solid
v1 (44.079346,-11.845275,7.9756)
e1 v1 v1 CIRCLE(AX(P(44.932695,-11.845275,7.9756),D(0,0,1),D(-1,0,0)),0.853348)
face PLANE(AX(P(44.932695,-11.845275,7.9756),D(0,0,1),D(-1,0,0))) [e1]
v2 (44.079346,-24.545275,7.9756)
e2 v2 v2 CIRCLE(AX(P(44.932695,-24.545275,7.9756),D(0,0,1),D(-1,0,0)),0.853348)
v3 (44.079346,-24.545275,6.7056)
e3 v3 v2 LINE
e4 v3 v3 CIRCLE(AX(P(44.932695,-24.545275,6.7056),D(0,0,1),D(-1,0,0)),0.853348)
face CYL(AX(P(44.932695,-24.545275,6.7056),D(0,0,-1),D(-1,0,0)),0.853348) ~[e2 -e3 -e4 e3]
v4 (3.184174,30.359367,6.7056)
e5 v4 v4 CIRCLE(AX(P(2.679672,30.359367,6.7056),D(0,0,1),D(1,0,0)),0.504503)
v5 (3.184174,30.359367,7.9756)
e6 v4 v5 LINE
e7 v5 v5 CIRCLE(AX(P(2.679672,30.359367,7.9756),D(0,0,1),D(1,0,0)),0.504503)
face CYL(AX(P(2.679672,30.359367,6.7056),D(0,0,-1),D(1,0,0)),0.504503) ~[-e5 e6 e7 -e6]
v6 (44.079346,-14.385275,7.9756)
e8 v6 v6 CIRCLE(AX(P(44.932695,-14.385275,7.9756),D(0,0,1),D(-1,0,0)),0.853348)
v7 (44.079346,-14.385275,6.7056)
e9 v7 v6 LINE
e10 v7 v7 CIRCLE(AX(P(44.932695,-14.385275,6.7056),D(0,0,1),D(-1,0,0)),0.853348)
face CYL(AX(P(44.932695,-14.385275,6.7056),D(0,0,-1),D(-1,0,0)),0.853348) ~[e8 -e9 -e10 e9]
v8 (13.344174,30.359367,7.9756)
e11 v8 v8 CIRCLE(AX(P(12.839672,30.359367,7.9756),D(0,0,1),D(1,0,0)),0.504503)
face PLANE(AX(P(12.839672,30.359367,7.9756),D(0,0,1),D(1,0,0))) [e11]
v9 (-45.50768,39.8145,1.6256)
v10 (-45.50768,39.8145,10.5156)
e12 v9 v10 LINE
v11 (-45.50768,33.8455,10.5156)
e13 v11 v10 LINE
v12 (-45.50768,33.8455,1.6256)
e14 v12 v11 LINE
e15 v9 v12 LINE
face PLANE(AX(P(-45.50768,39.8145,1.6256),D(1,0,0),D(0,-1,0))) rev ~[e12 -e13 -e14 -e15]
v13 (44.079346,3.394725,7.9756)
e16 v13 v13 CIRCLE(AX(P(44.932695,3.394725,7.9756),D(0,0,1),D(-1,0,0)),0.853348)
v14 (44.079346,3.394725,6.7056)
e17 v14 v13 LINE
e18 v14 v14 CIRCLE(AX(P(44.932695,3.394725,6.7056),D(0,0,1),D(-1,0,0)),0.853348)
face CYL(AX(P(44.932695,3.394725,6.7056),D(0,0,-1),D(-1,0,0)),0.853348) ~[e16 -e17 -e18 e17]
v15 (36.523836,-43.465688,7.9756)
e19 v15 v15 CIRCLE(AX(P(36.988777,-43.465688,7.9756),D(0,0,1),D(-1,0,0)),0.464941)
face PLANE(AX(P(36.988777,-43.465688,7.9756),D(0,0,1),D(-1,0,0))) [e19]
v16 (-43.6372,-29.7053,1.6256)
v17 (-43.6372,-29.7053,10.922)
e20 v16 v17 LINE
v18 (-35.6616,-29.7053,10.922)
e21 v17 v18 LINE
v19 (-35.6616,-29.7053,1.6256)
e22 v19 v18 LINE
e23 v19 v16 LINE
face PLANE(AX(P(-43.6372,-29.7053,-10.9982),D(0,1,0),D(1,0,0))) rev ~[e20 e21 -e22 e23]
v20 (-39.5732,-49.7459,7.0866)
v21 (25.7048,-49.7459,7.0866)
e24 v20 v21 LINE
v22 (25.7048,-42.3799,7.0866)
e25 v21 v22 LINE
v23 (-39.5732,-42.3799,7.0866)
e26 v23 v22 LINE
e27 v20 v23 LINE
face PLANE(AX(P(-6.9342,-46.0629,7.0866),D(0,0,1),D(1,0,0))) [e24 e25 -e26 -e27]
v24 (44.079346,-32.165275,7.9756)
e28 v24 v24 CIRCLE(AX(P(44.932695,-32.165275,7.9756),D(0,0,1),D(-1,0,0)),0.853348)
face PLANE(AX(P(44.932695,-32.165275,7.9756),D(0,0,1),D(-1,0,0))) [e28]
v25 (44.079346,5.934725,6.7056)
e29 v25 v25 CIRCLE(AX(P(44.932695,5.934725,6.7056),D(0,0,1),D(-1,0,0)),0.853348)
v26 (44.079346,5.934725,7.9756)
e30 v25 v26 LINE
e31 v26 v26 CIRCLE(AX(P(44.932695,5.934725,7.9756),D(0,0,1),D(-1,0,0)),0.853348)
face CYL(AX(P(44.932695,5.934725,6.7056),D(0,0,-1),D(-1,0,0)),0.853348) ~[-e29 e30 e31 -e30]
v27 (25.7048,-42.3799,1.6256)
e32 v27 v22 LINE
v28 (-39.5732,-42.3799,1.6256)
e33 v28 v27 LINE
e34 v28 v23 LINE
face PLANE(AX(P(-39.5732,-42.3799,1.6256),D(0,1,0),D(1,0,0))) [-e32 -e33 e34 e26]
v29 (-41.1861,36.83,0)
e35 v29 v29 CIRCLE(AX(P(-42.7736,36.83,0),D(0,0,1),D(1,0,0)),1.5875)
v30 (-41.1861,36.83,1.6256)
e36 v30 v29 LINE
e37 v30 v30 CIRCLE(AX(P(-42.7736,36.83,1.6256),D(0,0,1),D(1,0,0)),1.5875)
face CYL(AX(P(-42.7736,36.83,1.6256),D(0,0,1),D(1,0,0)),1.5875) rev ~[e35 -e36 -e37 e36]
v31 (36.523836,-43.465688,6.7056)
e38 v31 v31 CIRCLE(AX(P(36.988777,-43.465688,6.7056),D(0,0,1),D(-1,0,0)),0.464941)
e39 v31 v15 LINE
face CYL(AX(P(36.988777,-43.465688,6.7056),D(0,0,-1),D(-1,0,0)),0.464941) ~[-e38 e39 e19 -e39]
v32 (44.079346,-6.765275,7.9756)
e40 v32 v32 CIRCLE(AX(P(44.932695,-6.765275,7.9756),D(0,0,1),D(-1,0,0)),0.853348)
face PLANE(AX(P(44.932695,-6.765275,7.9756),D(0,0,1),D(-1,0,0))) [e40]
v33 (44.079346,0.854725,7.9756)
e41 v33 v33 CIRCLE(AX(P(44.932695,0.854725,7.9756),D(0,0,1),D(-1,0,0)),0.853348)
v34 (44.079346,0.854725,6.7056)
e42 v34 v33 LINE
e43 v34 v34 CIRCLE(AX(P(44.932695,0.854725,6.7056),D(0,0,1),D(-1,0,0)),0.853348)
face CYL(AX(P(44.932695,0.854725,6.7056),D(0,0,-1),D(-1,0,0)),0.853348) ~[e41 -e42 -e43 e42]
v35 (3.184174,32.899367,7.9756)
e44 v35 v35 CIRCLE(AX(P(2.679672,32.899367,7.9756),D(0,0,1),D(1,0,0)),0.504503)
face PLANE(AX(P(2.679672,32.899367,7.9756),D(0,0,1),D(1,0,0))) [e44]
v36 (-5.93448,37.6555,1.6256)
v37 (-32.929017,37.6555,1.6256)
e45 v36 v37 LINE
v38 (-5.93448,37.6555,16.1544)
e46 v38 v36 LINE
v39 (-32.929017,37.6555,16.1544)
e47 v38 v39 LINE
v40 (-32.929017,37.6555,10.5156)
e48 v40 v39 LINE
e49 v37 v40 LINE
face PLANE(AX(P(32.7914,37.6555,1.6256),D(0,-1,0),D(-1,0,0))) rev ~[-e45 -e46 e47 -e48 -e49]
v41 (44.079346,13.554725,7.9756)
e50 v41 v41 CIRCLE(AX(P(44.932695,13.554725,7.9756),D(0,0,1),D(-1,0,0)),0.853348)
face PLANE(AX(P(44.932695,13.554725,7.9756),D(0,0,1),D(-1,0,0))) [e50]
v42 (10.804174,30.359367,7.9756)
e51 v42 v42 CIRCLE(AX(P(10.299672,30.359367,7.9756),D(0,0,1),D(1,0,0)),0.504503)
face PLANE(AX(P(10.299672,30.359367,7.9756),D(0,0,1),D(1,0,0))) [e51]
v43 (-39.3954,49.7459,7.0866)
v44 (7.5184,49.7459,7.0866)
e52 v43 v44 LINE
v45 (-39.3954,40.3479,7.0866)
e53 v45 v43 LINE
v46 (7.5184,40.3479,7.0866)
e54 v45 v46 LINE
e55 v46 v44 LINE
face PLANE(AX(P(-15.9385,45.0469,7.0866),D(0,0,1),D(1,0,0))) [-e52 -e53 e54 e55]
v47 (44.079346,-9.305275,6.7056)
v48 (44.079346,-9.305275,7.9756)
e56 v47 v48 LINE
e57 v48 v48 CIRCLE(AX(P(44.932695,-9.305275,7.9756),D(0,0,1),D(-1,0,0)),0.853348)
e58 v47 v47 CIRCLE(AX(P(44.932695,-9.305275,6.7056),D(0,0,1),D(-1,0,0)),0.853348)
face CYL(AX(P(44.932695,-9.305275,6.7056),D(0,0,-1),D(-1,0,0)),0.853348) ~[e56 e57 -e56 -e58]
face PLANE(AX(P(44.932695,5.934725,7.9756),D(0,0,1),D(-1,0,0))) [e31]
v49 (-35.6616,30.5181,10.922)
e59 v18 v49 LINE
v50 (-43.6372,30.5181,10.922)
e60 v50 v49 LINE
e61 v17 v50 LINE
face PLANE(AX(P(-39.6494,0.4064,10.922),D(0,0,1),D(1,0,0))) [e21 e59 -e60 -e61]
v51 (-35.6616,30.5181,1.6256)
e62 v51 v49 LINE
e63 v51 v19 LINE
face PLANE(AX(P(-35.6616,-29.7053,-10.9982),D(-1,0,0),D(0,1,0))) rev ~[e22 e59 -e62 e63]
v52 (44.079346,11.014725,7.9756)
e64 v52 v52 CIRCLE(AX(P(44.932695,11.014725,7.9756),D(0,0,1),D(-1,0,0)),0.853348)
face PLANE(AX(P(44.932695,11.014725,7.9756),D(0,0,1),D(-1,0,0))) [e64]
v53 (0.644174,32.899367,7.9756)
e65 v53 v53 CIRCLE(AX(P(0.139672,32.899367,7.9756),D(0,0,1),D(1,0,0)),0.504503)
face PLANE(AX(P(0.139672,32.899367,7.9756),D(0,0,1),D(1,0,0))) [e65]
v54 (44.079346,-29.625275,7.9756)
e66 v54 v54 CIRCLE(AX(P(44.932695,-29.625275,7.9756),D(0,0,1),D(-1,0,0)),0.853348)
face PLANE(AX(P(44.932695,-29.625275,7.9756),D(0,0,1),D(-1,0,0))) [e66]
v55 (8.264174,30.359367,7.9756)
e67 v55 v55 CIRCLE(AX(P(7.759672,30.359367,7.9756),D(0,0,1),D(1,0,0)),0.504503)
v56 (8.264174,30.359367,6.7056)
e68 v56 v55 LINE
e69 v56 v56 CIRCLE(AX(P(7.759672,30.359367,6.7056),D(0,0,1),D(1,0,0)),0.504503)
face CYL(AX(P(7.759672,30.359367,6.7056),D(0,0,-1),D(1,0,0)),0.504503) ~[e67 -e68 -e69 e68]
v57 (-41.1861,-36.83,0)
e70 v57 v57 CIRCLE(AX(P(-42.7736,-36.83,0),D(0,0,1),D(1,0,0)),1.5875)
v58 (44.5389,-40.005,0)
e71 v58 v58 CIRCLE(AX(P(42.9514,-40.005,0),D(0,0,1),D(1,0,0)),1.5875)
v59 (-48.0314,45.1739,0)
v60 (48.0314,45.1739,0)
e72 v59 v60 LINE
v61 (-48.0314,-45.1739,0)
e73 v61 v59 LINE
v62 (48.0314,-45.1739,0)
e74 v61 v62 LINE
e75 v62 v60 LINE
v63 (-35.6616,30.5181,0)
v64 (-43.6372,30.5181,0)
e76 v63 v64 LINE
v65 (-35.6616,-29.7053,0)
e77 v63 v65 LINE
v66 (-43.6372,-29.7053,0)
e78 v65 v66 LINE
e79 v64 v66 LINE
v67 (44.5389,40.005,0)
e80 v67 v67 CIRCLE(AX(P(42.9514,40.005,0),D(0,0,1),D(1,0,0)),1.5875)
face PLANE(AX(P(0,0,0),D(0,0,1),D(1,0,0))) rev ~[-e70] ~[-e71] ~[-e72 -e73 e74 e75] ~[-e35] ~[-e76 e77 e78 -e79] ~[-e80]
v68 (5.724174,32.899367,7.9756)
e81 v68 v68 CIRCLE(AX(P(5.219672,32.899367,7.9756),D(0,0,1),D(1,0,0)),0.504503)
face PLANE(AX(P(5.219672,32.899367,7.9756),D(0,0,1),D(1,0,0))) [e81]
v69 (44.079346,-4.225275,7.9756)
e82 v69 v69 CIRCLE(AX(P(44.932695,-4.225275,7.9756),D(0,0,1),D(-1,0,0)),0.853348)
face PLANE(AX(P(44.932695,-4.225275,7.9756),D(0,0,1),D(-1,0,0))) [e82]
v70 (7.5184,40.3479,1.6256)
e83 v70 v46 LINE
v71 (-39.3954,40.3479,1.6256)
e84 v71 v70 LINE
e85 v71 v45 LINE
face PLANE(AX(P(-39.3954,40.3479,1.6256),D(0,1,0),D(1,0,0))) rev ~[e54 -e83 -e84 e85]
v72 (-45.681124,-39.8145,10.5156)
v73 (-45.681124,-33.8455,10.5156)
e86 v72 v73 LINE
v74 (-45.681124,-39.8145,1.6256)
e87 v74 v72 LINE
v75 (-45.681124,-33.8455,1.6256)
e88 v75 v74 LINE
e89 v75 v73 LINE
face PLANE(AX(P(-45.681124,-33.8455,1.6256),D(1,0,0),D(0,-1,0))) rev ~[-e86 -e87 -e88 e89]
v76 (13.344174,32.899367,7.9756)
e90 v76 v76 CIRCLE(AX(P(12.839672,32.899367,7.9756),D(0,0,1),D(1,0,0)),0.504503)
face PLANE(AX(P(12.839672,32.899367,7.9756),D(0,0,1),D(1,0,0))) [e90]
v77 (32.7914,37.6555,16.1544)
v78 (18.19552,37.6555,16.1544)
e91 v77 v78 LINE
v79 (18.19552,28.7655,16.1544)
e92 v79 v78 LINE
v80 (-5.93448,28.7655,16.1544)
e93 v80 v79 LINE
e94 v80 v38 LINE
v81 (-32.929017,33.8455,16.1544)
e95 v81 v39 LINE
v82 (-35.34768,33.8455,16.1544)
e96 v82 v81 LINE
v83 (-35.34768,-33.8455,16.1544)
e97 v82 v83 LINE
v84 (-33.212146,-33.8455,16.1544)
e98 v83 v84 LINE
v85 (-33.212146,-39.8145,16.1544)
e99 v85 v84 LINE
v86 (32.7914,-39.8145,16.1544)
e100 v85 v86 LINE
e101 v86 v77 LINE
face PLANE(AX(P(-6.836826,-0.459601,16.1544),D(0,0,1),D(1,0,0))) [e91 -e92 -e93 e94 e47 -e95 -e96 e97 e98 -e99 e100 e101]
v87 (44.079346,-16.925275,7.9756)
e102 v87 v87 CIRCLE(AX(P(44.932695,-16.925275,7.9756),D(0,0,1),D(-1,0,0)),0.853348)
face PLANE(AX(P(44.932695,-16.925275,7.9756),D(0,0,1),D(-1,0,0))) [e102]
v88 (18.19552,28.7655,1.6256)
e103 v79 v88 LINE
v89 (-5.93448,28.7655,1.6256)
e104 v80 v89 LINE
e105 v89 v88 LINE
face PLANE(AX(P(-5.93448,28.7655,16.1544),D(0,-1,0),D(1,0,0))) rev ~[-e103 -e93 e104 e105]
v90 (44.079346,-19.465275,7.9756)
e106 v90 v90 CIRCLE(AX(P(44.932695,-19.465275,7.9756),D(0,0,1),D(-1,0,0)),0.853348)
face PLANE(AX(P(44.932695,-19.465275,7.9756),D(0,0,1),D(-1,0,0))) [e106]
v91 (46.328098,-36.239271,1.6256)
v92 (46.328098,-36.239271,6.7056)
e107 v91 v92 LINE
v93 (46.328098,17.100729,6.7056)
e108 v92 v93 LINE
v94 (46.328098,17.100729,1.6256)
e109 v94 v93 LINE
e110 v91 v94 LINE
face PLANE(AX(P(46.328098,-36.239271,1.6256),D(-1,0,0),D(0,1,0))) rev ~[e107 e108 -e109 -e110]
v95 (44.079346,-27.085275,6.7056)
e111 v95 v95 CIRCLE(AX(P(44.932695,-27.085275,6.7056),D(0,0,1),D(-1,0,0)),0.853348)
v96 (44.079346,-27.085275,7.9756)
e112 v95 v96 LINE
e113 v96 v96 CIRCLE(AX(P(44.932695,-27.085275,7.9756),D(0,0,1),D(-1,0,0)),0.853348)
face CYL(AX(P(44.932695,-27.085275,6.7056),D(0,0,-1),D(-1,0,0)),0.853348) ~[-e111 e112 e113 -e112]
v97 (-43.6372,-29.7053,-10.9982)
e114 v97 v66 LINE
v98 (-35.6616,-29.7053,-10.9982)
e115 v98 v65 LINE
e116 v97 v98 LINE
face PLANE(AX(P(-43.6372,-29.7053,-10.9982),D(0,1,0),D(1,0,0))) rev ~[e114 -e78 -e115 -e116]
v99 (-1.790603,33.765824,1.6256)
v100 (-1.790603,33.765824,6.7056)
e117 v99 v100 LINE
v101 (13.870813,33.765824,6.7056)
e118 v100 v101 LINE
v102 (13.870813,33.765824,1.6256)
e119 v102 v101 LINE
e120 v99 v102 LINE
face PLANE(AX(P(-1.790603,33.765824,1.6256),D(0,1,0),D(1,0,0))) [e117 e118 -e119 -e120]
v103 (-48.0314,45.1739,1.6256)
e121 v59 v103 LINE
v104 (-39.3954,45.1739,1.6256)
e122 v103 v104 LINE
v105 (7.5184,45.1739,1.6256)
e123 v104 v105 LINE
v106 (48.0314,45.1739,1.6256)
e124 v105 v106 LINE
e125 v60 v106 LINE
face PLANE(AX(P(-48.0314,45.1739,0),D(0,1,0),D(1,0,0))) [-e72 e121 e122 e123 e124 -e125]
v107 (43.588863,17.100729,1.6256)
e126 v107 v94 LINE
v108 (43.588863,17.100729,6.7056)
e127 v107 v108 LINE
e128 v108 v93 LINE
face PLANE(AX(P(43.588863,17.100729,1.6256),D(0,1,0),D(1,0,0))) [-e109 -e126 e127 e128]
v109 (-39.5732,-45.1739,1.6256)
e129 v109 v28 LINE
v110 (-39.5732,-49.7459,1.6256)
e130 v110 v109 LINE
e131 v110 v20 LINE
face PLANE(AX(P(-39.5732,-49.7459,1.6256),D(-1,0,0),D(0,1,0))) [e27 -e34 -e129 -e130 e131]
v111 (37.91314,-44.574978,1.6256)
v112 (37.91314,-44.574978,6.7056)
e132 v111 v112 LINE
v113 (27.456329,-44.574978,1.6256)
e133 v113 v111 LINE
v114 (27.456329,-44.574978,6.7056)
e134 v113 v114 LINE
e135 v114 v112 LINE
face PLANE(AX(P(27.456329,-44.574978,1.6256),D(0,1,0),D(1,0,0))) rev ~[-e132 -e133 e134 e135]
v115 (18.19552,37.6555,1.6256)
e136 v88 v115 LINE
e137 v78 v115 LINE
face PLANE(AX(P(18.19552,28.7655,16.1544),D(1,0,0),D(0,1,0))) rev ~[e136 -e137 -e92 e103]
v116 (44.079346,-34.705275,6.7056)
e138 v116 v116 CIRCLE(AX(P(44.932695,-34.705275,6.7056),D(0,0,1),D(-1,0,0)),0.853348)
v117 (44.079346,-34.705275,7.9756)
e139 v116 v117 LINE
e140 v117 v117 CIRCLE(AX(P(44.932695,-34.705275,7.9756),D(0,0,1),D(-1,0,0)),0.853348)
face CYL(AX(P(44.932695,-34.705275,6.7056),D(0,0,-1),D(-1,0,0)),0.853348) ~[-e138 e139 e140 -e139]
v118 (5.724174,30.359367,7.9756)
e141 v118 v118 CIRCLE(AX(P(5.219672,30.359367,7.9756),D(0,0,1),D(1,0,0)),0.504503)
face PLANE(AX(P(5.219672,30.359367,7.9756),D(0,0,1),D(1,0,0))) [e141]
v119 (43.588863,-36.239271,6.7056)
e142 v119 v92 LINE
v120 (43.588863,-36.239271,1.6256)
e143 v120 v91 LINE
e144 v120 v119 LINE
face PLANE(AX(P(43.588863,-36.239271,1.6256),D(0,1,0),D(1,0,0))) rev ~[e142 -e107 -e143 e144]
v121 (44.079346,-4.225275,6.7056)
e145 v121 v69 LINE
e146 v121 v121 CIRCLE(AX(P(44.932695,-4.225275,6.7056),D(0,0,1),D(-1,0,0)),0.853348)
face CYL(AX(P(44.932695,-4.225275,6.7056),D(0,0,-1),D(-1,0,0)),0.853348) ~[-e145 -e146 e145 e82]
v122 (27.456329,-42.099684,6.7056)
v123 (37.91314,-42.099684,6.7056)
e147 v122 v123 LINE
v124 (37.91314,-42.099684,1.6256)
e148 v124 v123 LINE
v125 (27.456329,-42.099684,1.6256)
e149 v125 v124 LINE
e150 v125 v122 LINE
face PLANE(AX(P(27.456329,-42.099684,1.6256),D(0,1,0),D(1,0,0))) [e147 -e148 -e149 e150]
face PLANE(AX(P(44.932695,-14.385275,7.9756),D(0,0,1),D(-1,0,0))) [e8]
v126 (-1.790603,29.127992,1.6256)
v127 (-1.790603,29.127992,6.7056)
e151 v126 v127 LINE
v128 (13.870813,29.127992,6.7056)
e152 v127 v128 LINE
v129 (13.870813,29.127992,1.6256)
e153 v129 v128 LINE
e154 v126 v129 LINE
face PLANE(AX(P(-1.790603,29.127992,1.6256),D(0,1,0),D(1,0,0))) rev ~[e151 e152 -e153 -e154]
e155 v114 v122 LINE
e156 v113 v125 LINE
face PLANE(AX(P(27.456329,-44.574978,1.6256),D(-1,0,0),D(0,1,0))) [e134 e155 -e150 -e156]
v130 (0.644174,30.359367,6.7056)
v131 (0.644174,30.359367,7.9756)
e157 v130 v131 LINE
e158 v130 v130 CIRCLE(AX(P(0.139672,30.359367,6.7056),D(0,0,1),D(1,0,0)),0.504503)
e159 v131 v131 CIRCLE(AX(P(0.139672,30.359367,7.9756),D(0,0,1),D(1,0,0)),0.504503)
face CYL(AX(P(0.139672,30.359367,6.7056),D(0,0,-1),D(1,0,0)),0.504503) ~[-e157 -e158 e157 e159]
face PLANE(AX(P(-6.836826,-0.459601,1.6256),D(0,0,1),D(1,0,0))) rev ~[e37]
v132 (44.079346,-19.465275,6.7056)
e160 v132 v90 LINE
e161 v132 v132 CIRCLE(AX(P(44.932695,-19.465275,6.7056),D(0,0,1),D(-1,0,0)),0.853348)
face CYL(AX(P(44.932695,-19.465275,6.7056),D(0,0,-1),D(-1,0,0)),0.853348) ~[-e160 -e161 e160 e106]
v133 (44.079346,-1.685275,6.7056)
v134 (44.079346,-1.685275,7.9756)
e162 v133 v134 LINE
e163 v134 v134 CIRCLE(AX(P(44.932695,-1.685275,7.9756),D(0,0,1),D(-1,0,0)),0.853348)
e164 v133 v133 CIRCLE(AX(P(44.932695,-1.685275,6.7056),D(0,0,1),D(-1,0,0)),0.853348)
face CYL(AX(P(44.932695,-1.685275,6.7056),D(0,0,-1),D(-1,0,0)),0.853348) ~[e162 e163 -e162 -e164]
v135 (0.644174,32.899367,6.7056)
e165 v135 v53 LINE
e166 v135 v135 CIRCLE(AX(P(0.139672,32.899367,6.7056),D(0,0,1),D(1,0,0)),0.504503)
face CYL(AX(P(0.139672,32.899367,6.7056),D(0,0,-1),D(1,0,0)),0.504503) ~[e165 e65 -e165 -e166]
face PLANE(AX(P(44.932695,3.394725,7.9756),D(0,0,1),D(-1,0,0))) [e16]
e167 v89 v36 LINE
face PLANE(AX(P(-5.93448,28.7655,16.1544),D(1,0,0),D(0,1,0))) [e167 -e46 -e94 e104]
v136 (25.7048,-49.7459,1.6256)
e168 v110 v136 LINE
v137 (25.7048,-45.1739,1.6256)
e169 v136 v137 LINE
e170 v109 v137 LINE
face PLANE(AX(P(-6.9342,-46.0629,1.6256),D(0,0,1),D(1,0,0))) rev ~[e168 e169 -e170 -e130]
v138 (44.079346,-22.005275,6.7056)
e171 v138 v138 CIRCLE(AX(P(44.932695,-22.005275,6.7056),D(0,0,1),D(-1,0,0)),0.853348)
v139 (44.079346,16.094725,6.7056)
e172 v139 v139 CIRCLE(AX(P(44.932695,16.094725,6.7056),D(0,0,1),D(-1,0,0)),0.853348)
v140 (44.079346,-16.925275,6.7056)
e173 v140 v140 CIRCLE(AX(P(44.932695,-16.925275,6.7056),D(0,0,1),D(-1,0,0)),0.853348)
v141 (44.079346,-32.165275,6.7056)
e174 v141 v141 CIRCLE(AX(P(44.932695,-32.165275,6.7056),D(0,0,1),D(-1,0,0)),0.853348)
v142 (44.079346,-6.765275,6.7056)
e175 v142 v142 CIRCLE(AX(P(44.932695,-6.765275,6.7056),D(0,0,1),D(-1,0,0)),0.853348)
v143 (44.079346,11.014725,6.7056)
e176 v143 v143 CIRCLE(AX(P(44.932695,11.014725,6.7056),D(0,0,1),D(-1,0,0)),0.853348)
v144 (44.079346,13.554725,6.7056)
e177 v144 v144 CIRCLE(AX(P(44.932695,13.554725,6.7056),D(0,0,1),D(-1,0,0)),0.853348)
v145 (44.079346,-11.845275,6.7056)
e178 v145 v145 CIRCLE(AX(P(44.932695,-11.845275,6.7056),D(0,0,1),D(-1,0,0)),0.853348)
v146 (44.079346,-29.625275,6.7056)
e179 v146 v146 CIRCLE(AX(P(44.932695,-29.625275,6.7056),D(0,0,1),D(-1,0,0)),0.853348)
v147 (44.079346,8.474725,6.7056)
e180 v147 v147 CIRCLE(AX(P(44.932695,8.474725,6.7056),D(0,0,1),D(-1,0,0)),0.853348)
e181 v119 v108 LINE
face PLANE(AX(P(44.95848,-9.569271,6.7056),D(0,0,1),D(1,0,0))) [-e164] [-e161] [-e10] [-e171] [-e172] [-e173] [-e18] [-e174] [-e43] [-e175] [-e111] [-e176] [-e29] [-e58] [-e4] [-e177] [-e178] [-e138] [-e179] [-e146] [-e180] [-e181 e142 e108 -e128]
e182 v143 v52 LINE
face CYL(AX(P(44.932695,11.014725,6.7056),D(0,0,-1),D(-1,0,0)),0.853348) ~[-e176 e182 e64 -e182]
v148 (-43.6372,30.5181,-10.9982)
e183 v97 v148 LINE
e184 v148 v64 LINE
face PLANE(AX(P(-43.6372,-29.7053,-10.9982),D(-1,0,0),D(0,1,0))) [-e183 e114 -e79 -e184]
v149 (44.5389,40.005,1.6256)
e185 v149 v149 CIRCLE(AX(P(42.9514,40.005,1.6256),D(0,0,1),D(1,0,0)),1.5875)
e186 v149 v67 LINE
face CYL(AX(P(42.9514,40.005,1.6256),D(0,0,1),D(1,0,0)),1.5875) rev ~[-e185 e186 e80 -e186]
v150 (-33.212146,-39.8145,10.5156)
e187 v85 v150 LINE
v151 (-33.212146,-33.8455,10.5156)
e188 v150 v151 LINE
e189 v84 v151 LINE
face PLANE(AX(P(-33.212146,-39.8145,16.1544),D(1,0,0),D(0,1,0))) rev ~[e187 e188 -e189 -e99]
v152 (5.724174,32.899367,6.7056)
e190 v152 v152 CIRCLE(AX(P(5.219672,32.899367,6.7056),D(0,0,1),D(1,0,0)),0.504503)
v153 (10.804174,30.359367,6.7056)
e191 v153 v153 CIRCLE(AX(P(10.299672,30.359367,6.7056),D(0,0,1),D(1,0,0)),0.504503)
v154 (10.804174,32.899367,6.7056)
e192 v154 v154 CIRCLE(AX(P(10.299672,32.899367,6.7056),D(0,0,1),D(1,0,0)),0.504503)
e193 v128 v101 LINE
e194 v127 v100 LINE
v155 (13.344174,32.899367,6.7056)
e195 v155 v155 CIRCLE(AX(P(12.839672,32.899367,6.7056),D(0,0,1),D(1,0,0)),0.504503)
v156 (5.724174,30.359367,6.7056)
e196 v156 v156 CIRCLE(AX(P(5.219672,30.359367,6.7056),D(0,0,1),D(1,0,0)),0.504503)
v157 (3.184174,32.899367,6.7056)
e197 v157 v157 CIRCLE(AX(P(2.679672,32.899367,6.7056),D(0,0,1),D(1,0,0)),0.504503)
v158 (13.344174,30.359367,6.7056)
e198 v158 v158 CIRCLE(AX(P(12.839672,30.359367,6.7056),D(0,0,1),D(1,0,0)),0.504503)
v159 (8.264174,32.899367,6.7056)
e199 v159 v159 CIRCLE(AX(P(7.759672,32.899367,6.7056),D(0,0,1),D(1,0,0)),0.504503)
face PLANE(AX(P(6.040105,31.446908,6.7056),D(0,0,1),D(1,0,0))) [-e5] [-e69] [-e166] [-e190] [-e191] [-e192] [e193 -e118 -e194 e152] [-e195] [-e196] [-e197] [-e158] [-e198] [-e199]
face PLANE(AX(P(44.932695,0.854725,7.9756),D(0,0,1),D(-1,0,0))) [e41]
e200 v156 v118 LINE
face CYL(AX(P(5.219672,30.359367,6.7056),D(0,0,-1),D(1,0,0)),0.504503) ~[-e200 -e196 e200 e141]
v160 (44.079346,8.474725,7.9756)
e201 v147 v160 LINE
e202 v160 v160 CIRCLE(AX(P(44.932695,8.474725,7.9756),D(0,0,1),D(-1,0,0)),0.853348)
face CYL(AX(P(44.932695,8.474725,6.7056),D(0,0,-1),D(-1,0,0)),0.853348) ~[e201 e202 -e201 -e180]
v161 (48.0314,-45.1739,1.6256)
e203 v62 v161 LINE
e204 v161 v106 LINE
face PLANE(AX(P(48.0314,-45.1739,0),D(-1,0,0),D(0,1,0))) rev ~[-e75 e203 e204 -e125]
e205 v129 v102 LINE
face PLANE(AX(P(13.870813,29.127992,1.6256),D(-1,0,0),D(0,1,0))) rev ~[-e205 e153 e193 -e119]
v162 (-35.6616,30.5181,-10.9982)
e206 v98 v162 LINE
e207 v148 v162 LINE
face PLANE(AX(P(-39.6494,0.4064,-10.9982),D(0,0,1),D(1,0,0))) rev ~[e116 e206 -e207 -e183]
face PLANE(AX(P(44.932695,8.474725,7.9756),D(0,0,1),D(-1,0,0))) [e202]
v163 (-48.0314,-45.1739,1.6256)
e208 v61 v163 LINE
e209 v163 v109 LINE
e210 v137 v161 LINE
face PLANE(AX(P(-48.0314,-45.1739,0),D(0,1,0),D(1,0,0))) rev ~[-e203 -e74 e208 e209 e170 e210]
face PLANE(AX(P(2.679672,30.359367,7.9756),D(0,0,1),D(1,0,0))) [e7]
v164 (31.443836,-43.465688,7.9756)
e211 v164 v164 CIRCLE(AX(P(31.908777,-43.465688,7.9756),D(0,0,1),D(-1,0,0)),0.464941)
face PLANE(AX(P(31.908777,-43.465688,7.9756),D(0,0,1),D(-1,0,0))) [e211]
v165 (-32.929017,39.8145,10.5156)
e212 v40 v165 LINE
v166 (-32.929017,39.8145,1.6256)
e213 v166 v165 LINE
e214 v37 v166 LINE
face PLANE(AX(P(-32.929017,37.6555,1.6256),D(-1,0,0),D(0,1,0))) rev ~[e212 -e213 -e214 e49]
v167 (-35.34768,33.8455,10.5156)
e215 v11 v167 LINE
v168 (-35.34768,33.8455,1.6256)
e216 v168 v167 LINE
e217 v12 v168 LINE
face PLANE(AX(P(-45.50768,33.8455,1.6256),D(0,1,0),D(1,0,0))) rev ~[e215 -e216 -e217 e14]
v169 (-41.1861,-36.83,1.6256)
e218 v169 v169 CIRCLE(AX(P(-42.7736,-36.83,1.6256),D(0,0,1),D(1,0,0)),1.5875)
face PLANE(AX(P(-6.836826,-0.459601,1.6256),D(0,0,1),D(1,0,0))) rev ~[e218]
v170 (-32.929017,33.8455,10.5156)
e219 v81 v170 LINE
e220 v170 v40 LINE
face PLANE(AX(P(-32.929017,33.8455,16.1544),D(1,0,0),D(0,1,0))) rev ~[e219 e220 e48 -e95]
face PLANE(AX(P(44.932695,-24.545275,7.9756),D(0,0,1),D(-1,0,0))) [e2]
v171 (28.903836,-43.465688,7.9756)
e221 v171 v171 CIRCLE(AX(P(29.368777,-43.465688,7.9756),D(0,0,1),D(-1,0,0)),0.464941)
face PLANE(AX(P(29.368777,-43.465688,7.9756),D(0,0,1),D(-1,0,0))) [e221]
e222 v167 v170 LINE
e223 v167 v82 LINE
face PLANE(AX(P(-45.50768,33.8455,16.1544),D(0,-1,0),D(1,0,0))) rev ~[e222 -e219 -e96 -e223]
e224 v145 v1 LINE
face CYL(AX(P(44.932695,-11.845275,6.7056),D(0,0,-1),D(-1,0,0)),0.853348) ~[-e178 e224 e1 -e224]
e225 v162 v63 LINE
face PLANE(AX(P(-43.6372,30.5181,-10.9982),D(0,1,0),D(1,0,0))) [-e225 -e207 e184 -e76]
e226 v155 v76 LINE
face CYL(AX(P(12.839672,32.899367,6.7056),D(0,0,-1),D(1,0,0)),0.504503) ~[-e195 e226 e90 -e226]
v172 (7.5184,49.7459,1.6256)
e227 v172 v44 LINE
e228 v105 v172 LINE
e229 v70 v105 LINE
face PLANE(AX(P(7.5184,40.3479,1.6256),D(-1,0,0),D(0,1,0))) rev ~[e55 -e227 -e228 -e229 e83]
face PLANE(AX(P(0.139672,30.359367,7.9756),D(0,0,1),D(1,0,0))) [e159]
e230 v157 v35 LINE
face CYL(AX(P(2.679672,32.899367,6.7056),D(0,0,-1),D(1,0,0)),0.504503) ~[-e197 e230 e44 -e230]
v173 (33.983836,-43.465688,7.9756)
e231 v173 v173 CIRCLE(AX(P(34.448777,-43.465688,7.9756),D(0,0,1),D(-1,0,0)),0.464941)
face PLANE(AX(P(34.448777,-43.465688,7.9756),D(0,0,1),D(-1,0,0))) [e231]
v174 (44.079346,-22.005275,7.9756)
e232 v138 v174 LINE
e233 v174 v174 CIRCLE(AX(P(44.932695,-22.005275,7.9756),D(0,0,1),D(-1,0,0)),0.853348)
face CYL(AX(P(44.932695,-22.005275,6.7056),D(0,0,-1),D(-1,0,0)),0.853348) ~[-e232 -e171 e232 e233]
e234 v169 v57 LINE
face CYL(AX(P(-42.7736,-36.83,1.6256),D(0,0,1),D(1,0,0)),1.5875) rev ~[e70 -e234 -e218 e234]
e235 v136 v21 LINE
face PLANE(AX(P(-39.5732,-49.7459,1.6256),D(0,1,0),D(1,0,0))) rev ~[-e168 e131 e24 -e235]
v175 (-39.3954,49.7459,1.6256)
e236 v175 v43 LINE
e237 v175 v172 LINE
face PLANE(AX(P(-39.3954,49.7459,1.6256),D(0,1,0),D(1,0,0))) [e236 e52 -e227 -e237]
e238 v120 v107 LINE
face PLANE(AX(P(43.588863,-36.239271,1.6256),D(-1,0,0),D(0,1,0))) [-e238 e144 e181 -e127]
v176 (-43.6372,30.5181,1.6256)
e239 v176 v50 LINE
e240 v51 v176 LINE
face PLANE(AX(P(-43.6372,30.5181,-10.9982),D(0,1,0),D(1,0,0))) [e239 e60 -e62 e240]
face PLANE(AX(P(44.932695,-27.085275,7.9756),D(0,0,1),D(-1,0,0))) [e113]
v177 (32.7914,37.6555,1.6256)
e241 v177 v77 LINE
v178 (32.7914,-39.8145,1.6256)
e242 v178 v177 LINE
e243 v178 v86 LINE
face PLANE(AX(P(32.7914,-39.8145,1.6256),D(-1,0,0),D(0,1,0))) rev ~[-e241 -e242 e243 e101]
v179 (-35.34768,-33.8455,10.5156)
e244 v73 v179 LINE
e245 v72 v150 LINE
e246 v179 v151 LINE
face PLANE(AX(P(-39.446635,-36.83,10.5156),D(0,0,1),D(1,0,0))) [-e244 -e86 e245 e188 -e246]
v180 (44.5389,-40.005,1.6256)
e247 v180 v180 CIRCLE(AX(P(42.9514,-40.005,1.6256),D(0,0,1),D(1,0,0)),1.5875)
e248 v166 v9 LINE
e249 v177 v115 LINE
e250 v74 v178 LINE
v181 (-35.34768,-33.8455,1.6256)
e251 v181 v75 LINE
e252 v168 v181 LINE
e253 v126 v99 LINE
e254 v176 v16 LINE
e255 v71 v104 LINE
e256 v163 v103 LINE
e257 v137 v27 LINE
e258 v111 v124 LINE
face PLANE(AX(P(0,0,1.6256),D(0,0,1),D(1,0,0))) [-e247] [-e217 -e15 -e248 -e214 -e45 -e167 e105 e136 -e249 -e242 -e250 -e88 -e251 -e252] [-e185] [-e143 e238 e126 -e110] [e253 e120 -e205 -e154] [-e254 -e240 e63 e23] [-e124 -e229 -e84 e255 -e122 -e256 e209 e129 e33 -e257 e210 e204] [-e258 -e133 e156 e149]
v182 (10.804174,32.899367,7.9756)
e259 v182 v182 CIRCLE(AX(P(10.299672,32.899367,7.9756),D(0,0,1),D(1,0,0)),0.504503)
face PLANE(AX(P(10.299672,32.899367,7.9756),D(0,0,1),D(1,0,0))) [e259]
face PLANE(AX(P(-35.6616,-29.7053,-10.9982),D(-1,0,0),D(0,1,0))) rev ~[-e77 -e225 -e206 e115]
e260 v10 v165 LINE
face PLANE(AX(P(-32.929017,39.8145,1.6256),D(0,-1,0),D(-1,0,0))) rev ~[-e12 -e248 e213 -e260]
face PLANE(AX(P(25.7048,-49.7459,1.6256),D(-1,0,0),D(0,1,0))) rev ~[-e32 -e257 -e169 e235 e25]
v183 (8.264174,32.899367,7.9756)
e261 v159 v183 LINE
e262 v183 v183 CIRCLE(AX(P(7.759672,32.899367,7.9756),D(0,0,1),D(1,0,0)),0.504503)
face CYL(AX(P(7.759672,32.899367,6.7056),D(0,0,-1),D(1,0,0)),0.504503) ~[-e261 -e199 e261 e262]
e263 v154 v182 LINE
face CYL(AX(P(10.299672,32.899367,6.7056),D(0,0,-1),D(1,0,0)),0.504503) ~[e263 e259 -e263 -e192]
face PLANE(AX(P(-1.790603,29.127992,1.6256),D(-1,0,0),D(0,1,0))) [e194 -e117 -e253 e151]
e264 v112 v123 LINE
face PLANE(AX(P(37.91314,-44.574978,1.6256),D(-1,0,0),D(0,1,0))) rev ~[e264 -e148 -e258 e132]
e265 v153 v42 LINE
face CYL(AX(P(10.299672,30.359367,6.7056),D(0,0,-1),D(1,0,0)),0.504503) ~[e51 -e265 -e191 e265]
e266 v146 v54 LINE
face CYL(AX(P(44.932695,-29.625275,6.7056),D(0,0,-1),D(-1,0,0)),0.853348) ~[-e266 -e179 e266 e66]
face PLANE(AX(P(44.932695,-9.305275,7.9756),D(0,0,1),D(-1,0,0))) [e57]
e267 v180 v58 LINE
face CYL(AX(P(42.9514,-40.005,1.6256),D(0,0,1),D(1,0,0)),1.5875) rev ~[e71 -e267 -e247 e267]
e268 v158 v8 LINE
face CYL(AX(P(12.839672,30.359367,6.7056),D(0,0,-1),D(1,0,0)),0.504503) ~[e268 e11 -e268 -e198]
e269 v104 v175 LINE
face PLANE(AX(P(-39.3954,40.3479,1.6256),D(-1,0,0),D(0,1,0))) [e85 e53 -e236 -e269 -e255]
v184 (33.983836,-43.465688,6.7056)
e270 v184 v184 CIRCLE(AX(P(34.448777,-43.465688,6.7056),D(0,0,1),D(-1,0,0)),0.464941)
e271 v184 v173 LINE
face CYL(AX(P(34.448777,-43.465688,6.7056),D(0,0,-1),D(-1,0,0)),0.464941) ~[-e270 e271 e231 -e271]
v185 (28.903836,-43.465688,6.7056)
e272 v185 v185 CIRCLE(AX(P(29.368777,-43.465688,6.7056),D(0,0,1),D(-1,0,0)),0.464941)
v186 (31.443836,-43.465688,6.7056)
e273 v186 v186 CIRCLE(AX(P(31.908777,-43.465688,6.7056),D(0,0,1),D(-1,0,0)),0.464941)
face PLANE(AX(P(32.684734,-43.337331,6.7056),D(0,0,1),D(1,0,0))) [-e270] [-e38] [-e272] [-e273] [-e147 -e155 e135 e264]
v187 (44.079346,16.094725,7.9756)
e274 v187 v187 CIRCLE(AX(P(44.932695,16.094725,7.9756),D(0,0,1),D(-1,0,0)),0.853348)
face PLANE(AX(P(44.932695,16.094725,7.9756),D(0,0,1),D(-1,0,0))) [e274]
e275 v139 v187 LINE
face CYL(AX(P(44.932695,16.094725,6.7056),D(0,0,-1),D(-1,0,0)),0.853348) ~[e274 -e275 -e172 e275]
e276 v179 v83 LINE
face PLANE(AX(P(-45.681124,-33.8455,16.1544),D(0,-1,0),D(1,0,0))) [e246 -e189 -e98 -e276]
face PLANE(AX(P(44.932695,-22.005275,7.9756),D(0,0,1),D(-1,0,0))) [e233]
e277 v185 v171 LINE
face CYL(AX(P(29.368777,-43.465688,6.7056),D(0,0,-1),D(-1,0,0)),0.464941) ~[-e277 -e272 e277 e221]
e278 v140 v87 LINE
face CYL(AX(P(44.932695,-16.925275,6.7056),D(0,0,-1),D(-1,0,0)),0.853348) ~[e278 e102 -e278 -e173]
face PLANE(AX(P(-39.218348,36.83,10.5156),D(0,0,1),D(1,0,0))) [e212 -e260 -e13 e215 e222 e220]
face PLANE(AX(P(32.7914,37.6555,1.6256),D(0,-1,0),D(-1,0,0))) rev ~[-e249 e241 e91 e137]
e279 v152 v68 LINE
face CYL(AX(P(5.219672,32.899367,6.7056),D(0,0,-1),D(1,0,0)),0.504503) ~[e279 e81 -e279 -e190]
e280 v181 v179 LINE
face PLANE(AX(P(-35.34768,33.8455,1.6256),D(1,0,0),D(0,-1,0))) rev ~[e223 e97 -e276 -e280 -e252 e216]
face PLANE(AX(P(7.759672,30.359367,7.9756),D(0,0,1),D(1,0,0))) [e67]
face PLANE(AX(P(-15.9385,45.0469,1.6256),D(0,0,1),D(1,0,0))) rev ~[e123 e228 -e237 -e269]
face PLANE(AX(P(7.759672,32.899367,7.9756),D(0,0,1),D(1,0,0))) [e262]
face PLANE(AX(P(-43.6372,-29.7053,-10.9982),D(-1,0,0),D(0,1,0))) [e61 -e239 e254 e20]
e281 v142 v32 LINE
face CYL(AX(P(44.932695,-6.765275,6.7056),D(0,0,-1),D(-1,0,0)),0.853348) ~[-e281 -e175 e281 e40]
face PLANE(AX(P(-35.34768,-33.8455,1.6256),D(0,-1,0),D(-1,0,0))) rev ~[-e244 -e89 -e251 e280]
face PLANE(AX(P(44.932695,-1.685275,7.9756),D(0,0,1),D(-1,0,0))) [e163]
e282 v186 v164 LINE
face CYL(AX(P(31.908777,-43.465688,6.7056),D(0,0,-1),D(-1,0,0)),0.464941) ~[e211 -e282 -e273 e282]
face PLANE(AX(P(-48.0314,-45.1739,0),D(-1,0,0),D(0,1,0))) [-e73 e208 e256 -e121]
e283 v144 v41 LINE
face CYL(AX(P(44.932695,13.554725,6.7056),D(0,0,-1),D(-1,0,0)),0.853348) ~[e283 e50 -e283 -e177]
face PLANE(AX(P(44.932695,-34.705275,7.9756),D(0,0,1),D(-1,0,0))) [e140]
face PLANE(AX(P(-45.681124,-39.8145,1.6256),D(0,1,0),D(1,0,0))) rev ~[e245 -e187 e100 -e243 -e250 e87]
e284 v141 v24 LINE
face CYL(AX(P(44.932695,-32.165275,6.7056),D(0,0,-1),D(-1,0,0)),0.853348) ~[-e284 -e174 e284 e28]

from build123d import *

# Parameters (mm, degrees)
SKETCH1_W                    = 96.0628
SKETCH1_H                    = 90.3478
PCB_DEPTH                    = 1.6256
SKETCH5_R                    = 1.5875
PCB_HOLES_DEPTH              = 66.957101229
PCI_104_CONNECTOR_DEPTH      = 9.2964
PCI_104_CONNECTOR_DEPTH_BACK = 12.6238
SKETCH2_W                    = 7.9756
SKETCH2_H                    = 60.2234
SKETCH6_W                    = 65.278
SKETCH6_H                    = 7.366
SKETCH6_W_2                  = 46.9138
SKETCH6_H_2                  = 9.398
PCB_EDGE_CONNS_DEPTH         = 5.461
HEAT_SINK_DEPTH              = 14.5288
SKETCH8_W                    = 12.578663299
SKETCH8_H                    = 5.969
SKETCH8_W_2                  = 12.468978526
CUT_EXTRUDE1_DEPTH           = 5.6388
SKETCH9_W                    = 24.13
SKETCH9_H                    = 8.89
CUT_EXTRUDE2_DEPTH           = 14.5288
SKETCH10_W                   = 15.661416919
SKETCH10_H                   = 4.637831463
SKETCH10_W_2                 = 10.456810418
SKETCH10_H_2                 = 2.475294653
SKETCH10_W_3                 = 2.739234778
SKETCH10_H_3                 = 53.34
BOSS_EXTRUDE1_DEPTH          = 5.08
SKETCH11_R                   = 0.504502566
BOSS_EXTRUDE2_DEPTH          = 1.27
LPATTERN1_COUNT              = 6
LPATTERN1_PITCH              = 2.54
LPATTERN1_COUNT_DIR2         = 2
LPATTERN1_PITCH_DIR2         = 2.54
SKETCH12_R                   = 0.464941127
BOSS_EXTRUDE3_DEPTH          = 1.27
LPATTERN2_COUNT              = 4
LPATTERN2_PITCH              = 2.54
SKETCH13_R                   = 0.853348332
BOSS_EXTRUDE4_DEPTH          = 1.27
LPATTERN3_COUNT              = 21
LPATTERN3_PITCH              = 2.54


with BuildPart() as part:
    # Sketch1 → PCB (new body)
    with BuildSketch(Plane.XY):
        Rectangle(SKETCH1_W, SKETCH1_H)
    extrude(amount=PCB_DEPTH)

    # Sketch5 → PCB_Holes (cut, through all)
    with BuildSketch(Plane.XY.offset(1.6256)):
        with Locations((-42.7736, 36.83)):
            Circle(SKETCH5_R)
        with Locations((42.9514, 40.005)):
            Circle(SKETCH5_R)
        with Locations((42.9514, -40.005)):
            Circle(SKETCH5_R)
        with Locations((-42.7736, -36.83)):
            Circle(SKETCH5_R)
    extrude(amount=-PCB_HOLES_DEPTH, mode=Mode.SUBTRACT)

    # Sketch2 → PCI-104_Connector (add, two sides: drawn at the far end of the back side and taken through both)
    with BuildSketch(Plane.XY.offset(1.6256).offset(-PCI_104_CONNECTOR_DEPTH_BACK)):
        with Locations((-39.6494, 0.4064)):
            Rectangle(SKETCH2_W, SKETCH2_H)
    extrude(amount=PCI_104_CONNECTOR_DEPTH + PCI_104_CONNECTOR_DEPTH_BACK)

    # Sketch6 → PCB_Edge_Conns (add)
    with BuildSketch(Plane.XY.offset(1.6256)):
        with Locations((-6.9342, -46.0629)):
            Rectangle(SKETCH6_W, SKETCH6_H)
        with Locations((-15.9385, 45.0469)):
            Rectangle(SKETCH6_W_2, SKETCH6_H_2)
    extrude(amount=PCB_EDGE_CONNS_DEPTH)

    # Sketch7 → Heat Sink (add)
    with BuildSketch(Plane.XY.offset(1.6256)):
        Polygon((32.7914, 37.6555), (-32.929016802, 37.6555), (-32.929016802, 39.8145), (-45.507680101, 39.8145), (-45.507680101, 33.8455), (-35.347680101, 33.8455), (-35.347680101, -33.8455), (-45.681124108, -33.8455), (-45.681124108, -39.8145), (32.7914, -39.8145), align=None)
    extrude(amount=HEAT_SINK_DEPTH)

    # Sketch8 → Cut-Extrude1 (cut)
    with BuildSketch(Plane.XY.offset(16.1544)):
        with Locations((-39.218348452, 36.83)):
            Rectangle(SKETCH8_W, SKETCH8_H)
        with Locations((-39.446634845, -36.83)):
            Rectangle(SKETCH8_W_2, SKETCH8_H)
    extrude(amount=-CUT_EXTRUDE1_DEPTH, mode=Mode.SUBTRACT)

    # Sketch9 → Cut-Extrude2 (cut)
    with BuildSketch(Plane.XY.offset(16.1544)):
        with Locations((6.130519899, 33.2105)):
            Rectangle(SKETCH9_W, SKETCH9_H)
    extrude(amount=-CUT_EXTRUDE2_DEPTH, mode=Mode.SUBTRACT)

    # Sketch10 → Boss-Extrude1 (add)
    with BuildSketch(Plane.XY.offset(1.6256)):
        with Locations((6.040104986, 31.44690823)):
            Rectangle(SKETCH10_W, SKETCH10_H)
        with Locations((32.684734403, -43.337331173)):
            Rectangle(SKETCH10_W_2, SKETCH10_H_2)
        with Locations((44.95848031, -9.569270887)):
            Rectangle(SKETCH10_W_3, SKETCH10_H_3)
    extrude(amount=BOSS_EXTRUDE1_DEPTH)

    # Sketch11 → Boss-Extrude2 (add)
    with BuildSketch(Plane.XY.offset(6.7056)):
        with Locations((12.839671728, 30.359366813)):
            Circle(SKETCH11_R)
    boss_extrude2 = extrude(amount=BOSS_EXTRUDE2_DEPTH)

    # LPattern1: Boss-Extrude2 6 × 2
    with Locations(*[(-i * LPATTERN1_PITCH, j * LPATTERN1_PITCH_DIR2, 0) for i in range(LPATTERN1_COUNT) for j in range(LPATTERN1_COUNT_DIR2) if (i, j) != (0, 0)]):
        add(boss_extrude2)

    # Sketch12 → Boss-Extrude3 (add)
    with BuildSketch(Plane.XY.offset(6.7056)):
        with Locations(Location((36.988776709, -43.465687533, 0), (0, 0, 180))):
            Circle(SKETCH12_R)
    boss_extrude3 = extrude(amount=BOSS_EXTRUDE3_DEPTH)

    # LPattern2: Boss-Extrude3 ×4
    with Locations(*[(-i * LPATTERN2_PITCH, 0, 0) for i in range(1, LPATTERN2_COUNT)]):
        add(boss_extrude3)

    # Sketch13 → Boss-Extrude4 (add)
    with BuildSketch(Plane.XY.offset(6.7056)):
        with Locations(Location((44.932694638, -34.705275196, 0), (0, 0, 180))):
            Circle(SKETCH13_R)
    boss_extrude4 = extrude(amount=BOSS_EXTRUDE4_DEPTH)

    # LPattern3: Boss-Extrude4 ×21
    with Locations(*[(0, i * LPATTERN3_PITCH, 0) for i in range(1, LPATTERN3_COUNT)]):
        add(boss_extrude4)


solid = part.part
